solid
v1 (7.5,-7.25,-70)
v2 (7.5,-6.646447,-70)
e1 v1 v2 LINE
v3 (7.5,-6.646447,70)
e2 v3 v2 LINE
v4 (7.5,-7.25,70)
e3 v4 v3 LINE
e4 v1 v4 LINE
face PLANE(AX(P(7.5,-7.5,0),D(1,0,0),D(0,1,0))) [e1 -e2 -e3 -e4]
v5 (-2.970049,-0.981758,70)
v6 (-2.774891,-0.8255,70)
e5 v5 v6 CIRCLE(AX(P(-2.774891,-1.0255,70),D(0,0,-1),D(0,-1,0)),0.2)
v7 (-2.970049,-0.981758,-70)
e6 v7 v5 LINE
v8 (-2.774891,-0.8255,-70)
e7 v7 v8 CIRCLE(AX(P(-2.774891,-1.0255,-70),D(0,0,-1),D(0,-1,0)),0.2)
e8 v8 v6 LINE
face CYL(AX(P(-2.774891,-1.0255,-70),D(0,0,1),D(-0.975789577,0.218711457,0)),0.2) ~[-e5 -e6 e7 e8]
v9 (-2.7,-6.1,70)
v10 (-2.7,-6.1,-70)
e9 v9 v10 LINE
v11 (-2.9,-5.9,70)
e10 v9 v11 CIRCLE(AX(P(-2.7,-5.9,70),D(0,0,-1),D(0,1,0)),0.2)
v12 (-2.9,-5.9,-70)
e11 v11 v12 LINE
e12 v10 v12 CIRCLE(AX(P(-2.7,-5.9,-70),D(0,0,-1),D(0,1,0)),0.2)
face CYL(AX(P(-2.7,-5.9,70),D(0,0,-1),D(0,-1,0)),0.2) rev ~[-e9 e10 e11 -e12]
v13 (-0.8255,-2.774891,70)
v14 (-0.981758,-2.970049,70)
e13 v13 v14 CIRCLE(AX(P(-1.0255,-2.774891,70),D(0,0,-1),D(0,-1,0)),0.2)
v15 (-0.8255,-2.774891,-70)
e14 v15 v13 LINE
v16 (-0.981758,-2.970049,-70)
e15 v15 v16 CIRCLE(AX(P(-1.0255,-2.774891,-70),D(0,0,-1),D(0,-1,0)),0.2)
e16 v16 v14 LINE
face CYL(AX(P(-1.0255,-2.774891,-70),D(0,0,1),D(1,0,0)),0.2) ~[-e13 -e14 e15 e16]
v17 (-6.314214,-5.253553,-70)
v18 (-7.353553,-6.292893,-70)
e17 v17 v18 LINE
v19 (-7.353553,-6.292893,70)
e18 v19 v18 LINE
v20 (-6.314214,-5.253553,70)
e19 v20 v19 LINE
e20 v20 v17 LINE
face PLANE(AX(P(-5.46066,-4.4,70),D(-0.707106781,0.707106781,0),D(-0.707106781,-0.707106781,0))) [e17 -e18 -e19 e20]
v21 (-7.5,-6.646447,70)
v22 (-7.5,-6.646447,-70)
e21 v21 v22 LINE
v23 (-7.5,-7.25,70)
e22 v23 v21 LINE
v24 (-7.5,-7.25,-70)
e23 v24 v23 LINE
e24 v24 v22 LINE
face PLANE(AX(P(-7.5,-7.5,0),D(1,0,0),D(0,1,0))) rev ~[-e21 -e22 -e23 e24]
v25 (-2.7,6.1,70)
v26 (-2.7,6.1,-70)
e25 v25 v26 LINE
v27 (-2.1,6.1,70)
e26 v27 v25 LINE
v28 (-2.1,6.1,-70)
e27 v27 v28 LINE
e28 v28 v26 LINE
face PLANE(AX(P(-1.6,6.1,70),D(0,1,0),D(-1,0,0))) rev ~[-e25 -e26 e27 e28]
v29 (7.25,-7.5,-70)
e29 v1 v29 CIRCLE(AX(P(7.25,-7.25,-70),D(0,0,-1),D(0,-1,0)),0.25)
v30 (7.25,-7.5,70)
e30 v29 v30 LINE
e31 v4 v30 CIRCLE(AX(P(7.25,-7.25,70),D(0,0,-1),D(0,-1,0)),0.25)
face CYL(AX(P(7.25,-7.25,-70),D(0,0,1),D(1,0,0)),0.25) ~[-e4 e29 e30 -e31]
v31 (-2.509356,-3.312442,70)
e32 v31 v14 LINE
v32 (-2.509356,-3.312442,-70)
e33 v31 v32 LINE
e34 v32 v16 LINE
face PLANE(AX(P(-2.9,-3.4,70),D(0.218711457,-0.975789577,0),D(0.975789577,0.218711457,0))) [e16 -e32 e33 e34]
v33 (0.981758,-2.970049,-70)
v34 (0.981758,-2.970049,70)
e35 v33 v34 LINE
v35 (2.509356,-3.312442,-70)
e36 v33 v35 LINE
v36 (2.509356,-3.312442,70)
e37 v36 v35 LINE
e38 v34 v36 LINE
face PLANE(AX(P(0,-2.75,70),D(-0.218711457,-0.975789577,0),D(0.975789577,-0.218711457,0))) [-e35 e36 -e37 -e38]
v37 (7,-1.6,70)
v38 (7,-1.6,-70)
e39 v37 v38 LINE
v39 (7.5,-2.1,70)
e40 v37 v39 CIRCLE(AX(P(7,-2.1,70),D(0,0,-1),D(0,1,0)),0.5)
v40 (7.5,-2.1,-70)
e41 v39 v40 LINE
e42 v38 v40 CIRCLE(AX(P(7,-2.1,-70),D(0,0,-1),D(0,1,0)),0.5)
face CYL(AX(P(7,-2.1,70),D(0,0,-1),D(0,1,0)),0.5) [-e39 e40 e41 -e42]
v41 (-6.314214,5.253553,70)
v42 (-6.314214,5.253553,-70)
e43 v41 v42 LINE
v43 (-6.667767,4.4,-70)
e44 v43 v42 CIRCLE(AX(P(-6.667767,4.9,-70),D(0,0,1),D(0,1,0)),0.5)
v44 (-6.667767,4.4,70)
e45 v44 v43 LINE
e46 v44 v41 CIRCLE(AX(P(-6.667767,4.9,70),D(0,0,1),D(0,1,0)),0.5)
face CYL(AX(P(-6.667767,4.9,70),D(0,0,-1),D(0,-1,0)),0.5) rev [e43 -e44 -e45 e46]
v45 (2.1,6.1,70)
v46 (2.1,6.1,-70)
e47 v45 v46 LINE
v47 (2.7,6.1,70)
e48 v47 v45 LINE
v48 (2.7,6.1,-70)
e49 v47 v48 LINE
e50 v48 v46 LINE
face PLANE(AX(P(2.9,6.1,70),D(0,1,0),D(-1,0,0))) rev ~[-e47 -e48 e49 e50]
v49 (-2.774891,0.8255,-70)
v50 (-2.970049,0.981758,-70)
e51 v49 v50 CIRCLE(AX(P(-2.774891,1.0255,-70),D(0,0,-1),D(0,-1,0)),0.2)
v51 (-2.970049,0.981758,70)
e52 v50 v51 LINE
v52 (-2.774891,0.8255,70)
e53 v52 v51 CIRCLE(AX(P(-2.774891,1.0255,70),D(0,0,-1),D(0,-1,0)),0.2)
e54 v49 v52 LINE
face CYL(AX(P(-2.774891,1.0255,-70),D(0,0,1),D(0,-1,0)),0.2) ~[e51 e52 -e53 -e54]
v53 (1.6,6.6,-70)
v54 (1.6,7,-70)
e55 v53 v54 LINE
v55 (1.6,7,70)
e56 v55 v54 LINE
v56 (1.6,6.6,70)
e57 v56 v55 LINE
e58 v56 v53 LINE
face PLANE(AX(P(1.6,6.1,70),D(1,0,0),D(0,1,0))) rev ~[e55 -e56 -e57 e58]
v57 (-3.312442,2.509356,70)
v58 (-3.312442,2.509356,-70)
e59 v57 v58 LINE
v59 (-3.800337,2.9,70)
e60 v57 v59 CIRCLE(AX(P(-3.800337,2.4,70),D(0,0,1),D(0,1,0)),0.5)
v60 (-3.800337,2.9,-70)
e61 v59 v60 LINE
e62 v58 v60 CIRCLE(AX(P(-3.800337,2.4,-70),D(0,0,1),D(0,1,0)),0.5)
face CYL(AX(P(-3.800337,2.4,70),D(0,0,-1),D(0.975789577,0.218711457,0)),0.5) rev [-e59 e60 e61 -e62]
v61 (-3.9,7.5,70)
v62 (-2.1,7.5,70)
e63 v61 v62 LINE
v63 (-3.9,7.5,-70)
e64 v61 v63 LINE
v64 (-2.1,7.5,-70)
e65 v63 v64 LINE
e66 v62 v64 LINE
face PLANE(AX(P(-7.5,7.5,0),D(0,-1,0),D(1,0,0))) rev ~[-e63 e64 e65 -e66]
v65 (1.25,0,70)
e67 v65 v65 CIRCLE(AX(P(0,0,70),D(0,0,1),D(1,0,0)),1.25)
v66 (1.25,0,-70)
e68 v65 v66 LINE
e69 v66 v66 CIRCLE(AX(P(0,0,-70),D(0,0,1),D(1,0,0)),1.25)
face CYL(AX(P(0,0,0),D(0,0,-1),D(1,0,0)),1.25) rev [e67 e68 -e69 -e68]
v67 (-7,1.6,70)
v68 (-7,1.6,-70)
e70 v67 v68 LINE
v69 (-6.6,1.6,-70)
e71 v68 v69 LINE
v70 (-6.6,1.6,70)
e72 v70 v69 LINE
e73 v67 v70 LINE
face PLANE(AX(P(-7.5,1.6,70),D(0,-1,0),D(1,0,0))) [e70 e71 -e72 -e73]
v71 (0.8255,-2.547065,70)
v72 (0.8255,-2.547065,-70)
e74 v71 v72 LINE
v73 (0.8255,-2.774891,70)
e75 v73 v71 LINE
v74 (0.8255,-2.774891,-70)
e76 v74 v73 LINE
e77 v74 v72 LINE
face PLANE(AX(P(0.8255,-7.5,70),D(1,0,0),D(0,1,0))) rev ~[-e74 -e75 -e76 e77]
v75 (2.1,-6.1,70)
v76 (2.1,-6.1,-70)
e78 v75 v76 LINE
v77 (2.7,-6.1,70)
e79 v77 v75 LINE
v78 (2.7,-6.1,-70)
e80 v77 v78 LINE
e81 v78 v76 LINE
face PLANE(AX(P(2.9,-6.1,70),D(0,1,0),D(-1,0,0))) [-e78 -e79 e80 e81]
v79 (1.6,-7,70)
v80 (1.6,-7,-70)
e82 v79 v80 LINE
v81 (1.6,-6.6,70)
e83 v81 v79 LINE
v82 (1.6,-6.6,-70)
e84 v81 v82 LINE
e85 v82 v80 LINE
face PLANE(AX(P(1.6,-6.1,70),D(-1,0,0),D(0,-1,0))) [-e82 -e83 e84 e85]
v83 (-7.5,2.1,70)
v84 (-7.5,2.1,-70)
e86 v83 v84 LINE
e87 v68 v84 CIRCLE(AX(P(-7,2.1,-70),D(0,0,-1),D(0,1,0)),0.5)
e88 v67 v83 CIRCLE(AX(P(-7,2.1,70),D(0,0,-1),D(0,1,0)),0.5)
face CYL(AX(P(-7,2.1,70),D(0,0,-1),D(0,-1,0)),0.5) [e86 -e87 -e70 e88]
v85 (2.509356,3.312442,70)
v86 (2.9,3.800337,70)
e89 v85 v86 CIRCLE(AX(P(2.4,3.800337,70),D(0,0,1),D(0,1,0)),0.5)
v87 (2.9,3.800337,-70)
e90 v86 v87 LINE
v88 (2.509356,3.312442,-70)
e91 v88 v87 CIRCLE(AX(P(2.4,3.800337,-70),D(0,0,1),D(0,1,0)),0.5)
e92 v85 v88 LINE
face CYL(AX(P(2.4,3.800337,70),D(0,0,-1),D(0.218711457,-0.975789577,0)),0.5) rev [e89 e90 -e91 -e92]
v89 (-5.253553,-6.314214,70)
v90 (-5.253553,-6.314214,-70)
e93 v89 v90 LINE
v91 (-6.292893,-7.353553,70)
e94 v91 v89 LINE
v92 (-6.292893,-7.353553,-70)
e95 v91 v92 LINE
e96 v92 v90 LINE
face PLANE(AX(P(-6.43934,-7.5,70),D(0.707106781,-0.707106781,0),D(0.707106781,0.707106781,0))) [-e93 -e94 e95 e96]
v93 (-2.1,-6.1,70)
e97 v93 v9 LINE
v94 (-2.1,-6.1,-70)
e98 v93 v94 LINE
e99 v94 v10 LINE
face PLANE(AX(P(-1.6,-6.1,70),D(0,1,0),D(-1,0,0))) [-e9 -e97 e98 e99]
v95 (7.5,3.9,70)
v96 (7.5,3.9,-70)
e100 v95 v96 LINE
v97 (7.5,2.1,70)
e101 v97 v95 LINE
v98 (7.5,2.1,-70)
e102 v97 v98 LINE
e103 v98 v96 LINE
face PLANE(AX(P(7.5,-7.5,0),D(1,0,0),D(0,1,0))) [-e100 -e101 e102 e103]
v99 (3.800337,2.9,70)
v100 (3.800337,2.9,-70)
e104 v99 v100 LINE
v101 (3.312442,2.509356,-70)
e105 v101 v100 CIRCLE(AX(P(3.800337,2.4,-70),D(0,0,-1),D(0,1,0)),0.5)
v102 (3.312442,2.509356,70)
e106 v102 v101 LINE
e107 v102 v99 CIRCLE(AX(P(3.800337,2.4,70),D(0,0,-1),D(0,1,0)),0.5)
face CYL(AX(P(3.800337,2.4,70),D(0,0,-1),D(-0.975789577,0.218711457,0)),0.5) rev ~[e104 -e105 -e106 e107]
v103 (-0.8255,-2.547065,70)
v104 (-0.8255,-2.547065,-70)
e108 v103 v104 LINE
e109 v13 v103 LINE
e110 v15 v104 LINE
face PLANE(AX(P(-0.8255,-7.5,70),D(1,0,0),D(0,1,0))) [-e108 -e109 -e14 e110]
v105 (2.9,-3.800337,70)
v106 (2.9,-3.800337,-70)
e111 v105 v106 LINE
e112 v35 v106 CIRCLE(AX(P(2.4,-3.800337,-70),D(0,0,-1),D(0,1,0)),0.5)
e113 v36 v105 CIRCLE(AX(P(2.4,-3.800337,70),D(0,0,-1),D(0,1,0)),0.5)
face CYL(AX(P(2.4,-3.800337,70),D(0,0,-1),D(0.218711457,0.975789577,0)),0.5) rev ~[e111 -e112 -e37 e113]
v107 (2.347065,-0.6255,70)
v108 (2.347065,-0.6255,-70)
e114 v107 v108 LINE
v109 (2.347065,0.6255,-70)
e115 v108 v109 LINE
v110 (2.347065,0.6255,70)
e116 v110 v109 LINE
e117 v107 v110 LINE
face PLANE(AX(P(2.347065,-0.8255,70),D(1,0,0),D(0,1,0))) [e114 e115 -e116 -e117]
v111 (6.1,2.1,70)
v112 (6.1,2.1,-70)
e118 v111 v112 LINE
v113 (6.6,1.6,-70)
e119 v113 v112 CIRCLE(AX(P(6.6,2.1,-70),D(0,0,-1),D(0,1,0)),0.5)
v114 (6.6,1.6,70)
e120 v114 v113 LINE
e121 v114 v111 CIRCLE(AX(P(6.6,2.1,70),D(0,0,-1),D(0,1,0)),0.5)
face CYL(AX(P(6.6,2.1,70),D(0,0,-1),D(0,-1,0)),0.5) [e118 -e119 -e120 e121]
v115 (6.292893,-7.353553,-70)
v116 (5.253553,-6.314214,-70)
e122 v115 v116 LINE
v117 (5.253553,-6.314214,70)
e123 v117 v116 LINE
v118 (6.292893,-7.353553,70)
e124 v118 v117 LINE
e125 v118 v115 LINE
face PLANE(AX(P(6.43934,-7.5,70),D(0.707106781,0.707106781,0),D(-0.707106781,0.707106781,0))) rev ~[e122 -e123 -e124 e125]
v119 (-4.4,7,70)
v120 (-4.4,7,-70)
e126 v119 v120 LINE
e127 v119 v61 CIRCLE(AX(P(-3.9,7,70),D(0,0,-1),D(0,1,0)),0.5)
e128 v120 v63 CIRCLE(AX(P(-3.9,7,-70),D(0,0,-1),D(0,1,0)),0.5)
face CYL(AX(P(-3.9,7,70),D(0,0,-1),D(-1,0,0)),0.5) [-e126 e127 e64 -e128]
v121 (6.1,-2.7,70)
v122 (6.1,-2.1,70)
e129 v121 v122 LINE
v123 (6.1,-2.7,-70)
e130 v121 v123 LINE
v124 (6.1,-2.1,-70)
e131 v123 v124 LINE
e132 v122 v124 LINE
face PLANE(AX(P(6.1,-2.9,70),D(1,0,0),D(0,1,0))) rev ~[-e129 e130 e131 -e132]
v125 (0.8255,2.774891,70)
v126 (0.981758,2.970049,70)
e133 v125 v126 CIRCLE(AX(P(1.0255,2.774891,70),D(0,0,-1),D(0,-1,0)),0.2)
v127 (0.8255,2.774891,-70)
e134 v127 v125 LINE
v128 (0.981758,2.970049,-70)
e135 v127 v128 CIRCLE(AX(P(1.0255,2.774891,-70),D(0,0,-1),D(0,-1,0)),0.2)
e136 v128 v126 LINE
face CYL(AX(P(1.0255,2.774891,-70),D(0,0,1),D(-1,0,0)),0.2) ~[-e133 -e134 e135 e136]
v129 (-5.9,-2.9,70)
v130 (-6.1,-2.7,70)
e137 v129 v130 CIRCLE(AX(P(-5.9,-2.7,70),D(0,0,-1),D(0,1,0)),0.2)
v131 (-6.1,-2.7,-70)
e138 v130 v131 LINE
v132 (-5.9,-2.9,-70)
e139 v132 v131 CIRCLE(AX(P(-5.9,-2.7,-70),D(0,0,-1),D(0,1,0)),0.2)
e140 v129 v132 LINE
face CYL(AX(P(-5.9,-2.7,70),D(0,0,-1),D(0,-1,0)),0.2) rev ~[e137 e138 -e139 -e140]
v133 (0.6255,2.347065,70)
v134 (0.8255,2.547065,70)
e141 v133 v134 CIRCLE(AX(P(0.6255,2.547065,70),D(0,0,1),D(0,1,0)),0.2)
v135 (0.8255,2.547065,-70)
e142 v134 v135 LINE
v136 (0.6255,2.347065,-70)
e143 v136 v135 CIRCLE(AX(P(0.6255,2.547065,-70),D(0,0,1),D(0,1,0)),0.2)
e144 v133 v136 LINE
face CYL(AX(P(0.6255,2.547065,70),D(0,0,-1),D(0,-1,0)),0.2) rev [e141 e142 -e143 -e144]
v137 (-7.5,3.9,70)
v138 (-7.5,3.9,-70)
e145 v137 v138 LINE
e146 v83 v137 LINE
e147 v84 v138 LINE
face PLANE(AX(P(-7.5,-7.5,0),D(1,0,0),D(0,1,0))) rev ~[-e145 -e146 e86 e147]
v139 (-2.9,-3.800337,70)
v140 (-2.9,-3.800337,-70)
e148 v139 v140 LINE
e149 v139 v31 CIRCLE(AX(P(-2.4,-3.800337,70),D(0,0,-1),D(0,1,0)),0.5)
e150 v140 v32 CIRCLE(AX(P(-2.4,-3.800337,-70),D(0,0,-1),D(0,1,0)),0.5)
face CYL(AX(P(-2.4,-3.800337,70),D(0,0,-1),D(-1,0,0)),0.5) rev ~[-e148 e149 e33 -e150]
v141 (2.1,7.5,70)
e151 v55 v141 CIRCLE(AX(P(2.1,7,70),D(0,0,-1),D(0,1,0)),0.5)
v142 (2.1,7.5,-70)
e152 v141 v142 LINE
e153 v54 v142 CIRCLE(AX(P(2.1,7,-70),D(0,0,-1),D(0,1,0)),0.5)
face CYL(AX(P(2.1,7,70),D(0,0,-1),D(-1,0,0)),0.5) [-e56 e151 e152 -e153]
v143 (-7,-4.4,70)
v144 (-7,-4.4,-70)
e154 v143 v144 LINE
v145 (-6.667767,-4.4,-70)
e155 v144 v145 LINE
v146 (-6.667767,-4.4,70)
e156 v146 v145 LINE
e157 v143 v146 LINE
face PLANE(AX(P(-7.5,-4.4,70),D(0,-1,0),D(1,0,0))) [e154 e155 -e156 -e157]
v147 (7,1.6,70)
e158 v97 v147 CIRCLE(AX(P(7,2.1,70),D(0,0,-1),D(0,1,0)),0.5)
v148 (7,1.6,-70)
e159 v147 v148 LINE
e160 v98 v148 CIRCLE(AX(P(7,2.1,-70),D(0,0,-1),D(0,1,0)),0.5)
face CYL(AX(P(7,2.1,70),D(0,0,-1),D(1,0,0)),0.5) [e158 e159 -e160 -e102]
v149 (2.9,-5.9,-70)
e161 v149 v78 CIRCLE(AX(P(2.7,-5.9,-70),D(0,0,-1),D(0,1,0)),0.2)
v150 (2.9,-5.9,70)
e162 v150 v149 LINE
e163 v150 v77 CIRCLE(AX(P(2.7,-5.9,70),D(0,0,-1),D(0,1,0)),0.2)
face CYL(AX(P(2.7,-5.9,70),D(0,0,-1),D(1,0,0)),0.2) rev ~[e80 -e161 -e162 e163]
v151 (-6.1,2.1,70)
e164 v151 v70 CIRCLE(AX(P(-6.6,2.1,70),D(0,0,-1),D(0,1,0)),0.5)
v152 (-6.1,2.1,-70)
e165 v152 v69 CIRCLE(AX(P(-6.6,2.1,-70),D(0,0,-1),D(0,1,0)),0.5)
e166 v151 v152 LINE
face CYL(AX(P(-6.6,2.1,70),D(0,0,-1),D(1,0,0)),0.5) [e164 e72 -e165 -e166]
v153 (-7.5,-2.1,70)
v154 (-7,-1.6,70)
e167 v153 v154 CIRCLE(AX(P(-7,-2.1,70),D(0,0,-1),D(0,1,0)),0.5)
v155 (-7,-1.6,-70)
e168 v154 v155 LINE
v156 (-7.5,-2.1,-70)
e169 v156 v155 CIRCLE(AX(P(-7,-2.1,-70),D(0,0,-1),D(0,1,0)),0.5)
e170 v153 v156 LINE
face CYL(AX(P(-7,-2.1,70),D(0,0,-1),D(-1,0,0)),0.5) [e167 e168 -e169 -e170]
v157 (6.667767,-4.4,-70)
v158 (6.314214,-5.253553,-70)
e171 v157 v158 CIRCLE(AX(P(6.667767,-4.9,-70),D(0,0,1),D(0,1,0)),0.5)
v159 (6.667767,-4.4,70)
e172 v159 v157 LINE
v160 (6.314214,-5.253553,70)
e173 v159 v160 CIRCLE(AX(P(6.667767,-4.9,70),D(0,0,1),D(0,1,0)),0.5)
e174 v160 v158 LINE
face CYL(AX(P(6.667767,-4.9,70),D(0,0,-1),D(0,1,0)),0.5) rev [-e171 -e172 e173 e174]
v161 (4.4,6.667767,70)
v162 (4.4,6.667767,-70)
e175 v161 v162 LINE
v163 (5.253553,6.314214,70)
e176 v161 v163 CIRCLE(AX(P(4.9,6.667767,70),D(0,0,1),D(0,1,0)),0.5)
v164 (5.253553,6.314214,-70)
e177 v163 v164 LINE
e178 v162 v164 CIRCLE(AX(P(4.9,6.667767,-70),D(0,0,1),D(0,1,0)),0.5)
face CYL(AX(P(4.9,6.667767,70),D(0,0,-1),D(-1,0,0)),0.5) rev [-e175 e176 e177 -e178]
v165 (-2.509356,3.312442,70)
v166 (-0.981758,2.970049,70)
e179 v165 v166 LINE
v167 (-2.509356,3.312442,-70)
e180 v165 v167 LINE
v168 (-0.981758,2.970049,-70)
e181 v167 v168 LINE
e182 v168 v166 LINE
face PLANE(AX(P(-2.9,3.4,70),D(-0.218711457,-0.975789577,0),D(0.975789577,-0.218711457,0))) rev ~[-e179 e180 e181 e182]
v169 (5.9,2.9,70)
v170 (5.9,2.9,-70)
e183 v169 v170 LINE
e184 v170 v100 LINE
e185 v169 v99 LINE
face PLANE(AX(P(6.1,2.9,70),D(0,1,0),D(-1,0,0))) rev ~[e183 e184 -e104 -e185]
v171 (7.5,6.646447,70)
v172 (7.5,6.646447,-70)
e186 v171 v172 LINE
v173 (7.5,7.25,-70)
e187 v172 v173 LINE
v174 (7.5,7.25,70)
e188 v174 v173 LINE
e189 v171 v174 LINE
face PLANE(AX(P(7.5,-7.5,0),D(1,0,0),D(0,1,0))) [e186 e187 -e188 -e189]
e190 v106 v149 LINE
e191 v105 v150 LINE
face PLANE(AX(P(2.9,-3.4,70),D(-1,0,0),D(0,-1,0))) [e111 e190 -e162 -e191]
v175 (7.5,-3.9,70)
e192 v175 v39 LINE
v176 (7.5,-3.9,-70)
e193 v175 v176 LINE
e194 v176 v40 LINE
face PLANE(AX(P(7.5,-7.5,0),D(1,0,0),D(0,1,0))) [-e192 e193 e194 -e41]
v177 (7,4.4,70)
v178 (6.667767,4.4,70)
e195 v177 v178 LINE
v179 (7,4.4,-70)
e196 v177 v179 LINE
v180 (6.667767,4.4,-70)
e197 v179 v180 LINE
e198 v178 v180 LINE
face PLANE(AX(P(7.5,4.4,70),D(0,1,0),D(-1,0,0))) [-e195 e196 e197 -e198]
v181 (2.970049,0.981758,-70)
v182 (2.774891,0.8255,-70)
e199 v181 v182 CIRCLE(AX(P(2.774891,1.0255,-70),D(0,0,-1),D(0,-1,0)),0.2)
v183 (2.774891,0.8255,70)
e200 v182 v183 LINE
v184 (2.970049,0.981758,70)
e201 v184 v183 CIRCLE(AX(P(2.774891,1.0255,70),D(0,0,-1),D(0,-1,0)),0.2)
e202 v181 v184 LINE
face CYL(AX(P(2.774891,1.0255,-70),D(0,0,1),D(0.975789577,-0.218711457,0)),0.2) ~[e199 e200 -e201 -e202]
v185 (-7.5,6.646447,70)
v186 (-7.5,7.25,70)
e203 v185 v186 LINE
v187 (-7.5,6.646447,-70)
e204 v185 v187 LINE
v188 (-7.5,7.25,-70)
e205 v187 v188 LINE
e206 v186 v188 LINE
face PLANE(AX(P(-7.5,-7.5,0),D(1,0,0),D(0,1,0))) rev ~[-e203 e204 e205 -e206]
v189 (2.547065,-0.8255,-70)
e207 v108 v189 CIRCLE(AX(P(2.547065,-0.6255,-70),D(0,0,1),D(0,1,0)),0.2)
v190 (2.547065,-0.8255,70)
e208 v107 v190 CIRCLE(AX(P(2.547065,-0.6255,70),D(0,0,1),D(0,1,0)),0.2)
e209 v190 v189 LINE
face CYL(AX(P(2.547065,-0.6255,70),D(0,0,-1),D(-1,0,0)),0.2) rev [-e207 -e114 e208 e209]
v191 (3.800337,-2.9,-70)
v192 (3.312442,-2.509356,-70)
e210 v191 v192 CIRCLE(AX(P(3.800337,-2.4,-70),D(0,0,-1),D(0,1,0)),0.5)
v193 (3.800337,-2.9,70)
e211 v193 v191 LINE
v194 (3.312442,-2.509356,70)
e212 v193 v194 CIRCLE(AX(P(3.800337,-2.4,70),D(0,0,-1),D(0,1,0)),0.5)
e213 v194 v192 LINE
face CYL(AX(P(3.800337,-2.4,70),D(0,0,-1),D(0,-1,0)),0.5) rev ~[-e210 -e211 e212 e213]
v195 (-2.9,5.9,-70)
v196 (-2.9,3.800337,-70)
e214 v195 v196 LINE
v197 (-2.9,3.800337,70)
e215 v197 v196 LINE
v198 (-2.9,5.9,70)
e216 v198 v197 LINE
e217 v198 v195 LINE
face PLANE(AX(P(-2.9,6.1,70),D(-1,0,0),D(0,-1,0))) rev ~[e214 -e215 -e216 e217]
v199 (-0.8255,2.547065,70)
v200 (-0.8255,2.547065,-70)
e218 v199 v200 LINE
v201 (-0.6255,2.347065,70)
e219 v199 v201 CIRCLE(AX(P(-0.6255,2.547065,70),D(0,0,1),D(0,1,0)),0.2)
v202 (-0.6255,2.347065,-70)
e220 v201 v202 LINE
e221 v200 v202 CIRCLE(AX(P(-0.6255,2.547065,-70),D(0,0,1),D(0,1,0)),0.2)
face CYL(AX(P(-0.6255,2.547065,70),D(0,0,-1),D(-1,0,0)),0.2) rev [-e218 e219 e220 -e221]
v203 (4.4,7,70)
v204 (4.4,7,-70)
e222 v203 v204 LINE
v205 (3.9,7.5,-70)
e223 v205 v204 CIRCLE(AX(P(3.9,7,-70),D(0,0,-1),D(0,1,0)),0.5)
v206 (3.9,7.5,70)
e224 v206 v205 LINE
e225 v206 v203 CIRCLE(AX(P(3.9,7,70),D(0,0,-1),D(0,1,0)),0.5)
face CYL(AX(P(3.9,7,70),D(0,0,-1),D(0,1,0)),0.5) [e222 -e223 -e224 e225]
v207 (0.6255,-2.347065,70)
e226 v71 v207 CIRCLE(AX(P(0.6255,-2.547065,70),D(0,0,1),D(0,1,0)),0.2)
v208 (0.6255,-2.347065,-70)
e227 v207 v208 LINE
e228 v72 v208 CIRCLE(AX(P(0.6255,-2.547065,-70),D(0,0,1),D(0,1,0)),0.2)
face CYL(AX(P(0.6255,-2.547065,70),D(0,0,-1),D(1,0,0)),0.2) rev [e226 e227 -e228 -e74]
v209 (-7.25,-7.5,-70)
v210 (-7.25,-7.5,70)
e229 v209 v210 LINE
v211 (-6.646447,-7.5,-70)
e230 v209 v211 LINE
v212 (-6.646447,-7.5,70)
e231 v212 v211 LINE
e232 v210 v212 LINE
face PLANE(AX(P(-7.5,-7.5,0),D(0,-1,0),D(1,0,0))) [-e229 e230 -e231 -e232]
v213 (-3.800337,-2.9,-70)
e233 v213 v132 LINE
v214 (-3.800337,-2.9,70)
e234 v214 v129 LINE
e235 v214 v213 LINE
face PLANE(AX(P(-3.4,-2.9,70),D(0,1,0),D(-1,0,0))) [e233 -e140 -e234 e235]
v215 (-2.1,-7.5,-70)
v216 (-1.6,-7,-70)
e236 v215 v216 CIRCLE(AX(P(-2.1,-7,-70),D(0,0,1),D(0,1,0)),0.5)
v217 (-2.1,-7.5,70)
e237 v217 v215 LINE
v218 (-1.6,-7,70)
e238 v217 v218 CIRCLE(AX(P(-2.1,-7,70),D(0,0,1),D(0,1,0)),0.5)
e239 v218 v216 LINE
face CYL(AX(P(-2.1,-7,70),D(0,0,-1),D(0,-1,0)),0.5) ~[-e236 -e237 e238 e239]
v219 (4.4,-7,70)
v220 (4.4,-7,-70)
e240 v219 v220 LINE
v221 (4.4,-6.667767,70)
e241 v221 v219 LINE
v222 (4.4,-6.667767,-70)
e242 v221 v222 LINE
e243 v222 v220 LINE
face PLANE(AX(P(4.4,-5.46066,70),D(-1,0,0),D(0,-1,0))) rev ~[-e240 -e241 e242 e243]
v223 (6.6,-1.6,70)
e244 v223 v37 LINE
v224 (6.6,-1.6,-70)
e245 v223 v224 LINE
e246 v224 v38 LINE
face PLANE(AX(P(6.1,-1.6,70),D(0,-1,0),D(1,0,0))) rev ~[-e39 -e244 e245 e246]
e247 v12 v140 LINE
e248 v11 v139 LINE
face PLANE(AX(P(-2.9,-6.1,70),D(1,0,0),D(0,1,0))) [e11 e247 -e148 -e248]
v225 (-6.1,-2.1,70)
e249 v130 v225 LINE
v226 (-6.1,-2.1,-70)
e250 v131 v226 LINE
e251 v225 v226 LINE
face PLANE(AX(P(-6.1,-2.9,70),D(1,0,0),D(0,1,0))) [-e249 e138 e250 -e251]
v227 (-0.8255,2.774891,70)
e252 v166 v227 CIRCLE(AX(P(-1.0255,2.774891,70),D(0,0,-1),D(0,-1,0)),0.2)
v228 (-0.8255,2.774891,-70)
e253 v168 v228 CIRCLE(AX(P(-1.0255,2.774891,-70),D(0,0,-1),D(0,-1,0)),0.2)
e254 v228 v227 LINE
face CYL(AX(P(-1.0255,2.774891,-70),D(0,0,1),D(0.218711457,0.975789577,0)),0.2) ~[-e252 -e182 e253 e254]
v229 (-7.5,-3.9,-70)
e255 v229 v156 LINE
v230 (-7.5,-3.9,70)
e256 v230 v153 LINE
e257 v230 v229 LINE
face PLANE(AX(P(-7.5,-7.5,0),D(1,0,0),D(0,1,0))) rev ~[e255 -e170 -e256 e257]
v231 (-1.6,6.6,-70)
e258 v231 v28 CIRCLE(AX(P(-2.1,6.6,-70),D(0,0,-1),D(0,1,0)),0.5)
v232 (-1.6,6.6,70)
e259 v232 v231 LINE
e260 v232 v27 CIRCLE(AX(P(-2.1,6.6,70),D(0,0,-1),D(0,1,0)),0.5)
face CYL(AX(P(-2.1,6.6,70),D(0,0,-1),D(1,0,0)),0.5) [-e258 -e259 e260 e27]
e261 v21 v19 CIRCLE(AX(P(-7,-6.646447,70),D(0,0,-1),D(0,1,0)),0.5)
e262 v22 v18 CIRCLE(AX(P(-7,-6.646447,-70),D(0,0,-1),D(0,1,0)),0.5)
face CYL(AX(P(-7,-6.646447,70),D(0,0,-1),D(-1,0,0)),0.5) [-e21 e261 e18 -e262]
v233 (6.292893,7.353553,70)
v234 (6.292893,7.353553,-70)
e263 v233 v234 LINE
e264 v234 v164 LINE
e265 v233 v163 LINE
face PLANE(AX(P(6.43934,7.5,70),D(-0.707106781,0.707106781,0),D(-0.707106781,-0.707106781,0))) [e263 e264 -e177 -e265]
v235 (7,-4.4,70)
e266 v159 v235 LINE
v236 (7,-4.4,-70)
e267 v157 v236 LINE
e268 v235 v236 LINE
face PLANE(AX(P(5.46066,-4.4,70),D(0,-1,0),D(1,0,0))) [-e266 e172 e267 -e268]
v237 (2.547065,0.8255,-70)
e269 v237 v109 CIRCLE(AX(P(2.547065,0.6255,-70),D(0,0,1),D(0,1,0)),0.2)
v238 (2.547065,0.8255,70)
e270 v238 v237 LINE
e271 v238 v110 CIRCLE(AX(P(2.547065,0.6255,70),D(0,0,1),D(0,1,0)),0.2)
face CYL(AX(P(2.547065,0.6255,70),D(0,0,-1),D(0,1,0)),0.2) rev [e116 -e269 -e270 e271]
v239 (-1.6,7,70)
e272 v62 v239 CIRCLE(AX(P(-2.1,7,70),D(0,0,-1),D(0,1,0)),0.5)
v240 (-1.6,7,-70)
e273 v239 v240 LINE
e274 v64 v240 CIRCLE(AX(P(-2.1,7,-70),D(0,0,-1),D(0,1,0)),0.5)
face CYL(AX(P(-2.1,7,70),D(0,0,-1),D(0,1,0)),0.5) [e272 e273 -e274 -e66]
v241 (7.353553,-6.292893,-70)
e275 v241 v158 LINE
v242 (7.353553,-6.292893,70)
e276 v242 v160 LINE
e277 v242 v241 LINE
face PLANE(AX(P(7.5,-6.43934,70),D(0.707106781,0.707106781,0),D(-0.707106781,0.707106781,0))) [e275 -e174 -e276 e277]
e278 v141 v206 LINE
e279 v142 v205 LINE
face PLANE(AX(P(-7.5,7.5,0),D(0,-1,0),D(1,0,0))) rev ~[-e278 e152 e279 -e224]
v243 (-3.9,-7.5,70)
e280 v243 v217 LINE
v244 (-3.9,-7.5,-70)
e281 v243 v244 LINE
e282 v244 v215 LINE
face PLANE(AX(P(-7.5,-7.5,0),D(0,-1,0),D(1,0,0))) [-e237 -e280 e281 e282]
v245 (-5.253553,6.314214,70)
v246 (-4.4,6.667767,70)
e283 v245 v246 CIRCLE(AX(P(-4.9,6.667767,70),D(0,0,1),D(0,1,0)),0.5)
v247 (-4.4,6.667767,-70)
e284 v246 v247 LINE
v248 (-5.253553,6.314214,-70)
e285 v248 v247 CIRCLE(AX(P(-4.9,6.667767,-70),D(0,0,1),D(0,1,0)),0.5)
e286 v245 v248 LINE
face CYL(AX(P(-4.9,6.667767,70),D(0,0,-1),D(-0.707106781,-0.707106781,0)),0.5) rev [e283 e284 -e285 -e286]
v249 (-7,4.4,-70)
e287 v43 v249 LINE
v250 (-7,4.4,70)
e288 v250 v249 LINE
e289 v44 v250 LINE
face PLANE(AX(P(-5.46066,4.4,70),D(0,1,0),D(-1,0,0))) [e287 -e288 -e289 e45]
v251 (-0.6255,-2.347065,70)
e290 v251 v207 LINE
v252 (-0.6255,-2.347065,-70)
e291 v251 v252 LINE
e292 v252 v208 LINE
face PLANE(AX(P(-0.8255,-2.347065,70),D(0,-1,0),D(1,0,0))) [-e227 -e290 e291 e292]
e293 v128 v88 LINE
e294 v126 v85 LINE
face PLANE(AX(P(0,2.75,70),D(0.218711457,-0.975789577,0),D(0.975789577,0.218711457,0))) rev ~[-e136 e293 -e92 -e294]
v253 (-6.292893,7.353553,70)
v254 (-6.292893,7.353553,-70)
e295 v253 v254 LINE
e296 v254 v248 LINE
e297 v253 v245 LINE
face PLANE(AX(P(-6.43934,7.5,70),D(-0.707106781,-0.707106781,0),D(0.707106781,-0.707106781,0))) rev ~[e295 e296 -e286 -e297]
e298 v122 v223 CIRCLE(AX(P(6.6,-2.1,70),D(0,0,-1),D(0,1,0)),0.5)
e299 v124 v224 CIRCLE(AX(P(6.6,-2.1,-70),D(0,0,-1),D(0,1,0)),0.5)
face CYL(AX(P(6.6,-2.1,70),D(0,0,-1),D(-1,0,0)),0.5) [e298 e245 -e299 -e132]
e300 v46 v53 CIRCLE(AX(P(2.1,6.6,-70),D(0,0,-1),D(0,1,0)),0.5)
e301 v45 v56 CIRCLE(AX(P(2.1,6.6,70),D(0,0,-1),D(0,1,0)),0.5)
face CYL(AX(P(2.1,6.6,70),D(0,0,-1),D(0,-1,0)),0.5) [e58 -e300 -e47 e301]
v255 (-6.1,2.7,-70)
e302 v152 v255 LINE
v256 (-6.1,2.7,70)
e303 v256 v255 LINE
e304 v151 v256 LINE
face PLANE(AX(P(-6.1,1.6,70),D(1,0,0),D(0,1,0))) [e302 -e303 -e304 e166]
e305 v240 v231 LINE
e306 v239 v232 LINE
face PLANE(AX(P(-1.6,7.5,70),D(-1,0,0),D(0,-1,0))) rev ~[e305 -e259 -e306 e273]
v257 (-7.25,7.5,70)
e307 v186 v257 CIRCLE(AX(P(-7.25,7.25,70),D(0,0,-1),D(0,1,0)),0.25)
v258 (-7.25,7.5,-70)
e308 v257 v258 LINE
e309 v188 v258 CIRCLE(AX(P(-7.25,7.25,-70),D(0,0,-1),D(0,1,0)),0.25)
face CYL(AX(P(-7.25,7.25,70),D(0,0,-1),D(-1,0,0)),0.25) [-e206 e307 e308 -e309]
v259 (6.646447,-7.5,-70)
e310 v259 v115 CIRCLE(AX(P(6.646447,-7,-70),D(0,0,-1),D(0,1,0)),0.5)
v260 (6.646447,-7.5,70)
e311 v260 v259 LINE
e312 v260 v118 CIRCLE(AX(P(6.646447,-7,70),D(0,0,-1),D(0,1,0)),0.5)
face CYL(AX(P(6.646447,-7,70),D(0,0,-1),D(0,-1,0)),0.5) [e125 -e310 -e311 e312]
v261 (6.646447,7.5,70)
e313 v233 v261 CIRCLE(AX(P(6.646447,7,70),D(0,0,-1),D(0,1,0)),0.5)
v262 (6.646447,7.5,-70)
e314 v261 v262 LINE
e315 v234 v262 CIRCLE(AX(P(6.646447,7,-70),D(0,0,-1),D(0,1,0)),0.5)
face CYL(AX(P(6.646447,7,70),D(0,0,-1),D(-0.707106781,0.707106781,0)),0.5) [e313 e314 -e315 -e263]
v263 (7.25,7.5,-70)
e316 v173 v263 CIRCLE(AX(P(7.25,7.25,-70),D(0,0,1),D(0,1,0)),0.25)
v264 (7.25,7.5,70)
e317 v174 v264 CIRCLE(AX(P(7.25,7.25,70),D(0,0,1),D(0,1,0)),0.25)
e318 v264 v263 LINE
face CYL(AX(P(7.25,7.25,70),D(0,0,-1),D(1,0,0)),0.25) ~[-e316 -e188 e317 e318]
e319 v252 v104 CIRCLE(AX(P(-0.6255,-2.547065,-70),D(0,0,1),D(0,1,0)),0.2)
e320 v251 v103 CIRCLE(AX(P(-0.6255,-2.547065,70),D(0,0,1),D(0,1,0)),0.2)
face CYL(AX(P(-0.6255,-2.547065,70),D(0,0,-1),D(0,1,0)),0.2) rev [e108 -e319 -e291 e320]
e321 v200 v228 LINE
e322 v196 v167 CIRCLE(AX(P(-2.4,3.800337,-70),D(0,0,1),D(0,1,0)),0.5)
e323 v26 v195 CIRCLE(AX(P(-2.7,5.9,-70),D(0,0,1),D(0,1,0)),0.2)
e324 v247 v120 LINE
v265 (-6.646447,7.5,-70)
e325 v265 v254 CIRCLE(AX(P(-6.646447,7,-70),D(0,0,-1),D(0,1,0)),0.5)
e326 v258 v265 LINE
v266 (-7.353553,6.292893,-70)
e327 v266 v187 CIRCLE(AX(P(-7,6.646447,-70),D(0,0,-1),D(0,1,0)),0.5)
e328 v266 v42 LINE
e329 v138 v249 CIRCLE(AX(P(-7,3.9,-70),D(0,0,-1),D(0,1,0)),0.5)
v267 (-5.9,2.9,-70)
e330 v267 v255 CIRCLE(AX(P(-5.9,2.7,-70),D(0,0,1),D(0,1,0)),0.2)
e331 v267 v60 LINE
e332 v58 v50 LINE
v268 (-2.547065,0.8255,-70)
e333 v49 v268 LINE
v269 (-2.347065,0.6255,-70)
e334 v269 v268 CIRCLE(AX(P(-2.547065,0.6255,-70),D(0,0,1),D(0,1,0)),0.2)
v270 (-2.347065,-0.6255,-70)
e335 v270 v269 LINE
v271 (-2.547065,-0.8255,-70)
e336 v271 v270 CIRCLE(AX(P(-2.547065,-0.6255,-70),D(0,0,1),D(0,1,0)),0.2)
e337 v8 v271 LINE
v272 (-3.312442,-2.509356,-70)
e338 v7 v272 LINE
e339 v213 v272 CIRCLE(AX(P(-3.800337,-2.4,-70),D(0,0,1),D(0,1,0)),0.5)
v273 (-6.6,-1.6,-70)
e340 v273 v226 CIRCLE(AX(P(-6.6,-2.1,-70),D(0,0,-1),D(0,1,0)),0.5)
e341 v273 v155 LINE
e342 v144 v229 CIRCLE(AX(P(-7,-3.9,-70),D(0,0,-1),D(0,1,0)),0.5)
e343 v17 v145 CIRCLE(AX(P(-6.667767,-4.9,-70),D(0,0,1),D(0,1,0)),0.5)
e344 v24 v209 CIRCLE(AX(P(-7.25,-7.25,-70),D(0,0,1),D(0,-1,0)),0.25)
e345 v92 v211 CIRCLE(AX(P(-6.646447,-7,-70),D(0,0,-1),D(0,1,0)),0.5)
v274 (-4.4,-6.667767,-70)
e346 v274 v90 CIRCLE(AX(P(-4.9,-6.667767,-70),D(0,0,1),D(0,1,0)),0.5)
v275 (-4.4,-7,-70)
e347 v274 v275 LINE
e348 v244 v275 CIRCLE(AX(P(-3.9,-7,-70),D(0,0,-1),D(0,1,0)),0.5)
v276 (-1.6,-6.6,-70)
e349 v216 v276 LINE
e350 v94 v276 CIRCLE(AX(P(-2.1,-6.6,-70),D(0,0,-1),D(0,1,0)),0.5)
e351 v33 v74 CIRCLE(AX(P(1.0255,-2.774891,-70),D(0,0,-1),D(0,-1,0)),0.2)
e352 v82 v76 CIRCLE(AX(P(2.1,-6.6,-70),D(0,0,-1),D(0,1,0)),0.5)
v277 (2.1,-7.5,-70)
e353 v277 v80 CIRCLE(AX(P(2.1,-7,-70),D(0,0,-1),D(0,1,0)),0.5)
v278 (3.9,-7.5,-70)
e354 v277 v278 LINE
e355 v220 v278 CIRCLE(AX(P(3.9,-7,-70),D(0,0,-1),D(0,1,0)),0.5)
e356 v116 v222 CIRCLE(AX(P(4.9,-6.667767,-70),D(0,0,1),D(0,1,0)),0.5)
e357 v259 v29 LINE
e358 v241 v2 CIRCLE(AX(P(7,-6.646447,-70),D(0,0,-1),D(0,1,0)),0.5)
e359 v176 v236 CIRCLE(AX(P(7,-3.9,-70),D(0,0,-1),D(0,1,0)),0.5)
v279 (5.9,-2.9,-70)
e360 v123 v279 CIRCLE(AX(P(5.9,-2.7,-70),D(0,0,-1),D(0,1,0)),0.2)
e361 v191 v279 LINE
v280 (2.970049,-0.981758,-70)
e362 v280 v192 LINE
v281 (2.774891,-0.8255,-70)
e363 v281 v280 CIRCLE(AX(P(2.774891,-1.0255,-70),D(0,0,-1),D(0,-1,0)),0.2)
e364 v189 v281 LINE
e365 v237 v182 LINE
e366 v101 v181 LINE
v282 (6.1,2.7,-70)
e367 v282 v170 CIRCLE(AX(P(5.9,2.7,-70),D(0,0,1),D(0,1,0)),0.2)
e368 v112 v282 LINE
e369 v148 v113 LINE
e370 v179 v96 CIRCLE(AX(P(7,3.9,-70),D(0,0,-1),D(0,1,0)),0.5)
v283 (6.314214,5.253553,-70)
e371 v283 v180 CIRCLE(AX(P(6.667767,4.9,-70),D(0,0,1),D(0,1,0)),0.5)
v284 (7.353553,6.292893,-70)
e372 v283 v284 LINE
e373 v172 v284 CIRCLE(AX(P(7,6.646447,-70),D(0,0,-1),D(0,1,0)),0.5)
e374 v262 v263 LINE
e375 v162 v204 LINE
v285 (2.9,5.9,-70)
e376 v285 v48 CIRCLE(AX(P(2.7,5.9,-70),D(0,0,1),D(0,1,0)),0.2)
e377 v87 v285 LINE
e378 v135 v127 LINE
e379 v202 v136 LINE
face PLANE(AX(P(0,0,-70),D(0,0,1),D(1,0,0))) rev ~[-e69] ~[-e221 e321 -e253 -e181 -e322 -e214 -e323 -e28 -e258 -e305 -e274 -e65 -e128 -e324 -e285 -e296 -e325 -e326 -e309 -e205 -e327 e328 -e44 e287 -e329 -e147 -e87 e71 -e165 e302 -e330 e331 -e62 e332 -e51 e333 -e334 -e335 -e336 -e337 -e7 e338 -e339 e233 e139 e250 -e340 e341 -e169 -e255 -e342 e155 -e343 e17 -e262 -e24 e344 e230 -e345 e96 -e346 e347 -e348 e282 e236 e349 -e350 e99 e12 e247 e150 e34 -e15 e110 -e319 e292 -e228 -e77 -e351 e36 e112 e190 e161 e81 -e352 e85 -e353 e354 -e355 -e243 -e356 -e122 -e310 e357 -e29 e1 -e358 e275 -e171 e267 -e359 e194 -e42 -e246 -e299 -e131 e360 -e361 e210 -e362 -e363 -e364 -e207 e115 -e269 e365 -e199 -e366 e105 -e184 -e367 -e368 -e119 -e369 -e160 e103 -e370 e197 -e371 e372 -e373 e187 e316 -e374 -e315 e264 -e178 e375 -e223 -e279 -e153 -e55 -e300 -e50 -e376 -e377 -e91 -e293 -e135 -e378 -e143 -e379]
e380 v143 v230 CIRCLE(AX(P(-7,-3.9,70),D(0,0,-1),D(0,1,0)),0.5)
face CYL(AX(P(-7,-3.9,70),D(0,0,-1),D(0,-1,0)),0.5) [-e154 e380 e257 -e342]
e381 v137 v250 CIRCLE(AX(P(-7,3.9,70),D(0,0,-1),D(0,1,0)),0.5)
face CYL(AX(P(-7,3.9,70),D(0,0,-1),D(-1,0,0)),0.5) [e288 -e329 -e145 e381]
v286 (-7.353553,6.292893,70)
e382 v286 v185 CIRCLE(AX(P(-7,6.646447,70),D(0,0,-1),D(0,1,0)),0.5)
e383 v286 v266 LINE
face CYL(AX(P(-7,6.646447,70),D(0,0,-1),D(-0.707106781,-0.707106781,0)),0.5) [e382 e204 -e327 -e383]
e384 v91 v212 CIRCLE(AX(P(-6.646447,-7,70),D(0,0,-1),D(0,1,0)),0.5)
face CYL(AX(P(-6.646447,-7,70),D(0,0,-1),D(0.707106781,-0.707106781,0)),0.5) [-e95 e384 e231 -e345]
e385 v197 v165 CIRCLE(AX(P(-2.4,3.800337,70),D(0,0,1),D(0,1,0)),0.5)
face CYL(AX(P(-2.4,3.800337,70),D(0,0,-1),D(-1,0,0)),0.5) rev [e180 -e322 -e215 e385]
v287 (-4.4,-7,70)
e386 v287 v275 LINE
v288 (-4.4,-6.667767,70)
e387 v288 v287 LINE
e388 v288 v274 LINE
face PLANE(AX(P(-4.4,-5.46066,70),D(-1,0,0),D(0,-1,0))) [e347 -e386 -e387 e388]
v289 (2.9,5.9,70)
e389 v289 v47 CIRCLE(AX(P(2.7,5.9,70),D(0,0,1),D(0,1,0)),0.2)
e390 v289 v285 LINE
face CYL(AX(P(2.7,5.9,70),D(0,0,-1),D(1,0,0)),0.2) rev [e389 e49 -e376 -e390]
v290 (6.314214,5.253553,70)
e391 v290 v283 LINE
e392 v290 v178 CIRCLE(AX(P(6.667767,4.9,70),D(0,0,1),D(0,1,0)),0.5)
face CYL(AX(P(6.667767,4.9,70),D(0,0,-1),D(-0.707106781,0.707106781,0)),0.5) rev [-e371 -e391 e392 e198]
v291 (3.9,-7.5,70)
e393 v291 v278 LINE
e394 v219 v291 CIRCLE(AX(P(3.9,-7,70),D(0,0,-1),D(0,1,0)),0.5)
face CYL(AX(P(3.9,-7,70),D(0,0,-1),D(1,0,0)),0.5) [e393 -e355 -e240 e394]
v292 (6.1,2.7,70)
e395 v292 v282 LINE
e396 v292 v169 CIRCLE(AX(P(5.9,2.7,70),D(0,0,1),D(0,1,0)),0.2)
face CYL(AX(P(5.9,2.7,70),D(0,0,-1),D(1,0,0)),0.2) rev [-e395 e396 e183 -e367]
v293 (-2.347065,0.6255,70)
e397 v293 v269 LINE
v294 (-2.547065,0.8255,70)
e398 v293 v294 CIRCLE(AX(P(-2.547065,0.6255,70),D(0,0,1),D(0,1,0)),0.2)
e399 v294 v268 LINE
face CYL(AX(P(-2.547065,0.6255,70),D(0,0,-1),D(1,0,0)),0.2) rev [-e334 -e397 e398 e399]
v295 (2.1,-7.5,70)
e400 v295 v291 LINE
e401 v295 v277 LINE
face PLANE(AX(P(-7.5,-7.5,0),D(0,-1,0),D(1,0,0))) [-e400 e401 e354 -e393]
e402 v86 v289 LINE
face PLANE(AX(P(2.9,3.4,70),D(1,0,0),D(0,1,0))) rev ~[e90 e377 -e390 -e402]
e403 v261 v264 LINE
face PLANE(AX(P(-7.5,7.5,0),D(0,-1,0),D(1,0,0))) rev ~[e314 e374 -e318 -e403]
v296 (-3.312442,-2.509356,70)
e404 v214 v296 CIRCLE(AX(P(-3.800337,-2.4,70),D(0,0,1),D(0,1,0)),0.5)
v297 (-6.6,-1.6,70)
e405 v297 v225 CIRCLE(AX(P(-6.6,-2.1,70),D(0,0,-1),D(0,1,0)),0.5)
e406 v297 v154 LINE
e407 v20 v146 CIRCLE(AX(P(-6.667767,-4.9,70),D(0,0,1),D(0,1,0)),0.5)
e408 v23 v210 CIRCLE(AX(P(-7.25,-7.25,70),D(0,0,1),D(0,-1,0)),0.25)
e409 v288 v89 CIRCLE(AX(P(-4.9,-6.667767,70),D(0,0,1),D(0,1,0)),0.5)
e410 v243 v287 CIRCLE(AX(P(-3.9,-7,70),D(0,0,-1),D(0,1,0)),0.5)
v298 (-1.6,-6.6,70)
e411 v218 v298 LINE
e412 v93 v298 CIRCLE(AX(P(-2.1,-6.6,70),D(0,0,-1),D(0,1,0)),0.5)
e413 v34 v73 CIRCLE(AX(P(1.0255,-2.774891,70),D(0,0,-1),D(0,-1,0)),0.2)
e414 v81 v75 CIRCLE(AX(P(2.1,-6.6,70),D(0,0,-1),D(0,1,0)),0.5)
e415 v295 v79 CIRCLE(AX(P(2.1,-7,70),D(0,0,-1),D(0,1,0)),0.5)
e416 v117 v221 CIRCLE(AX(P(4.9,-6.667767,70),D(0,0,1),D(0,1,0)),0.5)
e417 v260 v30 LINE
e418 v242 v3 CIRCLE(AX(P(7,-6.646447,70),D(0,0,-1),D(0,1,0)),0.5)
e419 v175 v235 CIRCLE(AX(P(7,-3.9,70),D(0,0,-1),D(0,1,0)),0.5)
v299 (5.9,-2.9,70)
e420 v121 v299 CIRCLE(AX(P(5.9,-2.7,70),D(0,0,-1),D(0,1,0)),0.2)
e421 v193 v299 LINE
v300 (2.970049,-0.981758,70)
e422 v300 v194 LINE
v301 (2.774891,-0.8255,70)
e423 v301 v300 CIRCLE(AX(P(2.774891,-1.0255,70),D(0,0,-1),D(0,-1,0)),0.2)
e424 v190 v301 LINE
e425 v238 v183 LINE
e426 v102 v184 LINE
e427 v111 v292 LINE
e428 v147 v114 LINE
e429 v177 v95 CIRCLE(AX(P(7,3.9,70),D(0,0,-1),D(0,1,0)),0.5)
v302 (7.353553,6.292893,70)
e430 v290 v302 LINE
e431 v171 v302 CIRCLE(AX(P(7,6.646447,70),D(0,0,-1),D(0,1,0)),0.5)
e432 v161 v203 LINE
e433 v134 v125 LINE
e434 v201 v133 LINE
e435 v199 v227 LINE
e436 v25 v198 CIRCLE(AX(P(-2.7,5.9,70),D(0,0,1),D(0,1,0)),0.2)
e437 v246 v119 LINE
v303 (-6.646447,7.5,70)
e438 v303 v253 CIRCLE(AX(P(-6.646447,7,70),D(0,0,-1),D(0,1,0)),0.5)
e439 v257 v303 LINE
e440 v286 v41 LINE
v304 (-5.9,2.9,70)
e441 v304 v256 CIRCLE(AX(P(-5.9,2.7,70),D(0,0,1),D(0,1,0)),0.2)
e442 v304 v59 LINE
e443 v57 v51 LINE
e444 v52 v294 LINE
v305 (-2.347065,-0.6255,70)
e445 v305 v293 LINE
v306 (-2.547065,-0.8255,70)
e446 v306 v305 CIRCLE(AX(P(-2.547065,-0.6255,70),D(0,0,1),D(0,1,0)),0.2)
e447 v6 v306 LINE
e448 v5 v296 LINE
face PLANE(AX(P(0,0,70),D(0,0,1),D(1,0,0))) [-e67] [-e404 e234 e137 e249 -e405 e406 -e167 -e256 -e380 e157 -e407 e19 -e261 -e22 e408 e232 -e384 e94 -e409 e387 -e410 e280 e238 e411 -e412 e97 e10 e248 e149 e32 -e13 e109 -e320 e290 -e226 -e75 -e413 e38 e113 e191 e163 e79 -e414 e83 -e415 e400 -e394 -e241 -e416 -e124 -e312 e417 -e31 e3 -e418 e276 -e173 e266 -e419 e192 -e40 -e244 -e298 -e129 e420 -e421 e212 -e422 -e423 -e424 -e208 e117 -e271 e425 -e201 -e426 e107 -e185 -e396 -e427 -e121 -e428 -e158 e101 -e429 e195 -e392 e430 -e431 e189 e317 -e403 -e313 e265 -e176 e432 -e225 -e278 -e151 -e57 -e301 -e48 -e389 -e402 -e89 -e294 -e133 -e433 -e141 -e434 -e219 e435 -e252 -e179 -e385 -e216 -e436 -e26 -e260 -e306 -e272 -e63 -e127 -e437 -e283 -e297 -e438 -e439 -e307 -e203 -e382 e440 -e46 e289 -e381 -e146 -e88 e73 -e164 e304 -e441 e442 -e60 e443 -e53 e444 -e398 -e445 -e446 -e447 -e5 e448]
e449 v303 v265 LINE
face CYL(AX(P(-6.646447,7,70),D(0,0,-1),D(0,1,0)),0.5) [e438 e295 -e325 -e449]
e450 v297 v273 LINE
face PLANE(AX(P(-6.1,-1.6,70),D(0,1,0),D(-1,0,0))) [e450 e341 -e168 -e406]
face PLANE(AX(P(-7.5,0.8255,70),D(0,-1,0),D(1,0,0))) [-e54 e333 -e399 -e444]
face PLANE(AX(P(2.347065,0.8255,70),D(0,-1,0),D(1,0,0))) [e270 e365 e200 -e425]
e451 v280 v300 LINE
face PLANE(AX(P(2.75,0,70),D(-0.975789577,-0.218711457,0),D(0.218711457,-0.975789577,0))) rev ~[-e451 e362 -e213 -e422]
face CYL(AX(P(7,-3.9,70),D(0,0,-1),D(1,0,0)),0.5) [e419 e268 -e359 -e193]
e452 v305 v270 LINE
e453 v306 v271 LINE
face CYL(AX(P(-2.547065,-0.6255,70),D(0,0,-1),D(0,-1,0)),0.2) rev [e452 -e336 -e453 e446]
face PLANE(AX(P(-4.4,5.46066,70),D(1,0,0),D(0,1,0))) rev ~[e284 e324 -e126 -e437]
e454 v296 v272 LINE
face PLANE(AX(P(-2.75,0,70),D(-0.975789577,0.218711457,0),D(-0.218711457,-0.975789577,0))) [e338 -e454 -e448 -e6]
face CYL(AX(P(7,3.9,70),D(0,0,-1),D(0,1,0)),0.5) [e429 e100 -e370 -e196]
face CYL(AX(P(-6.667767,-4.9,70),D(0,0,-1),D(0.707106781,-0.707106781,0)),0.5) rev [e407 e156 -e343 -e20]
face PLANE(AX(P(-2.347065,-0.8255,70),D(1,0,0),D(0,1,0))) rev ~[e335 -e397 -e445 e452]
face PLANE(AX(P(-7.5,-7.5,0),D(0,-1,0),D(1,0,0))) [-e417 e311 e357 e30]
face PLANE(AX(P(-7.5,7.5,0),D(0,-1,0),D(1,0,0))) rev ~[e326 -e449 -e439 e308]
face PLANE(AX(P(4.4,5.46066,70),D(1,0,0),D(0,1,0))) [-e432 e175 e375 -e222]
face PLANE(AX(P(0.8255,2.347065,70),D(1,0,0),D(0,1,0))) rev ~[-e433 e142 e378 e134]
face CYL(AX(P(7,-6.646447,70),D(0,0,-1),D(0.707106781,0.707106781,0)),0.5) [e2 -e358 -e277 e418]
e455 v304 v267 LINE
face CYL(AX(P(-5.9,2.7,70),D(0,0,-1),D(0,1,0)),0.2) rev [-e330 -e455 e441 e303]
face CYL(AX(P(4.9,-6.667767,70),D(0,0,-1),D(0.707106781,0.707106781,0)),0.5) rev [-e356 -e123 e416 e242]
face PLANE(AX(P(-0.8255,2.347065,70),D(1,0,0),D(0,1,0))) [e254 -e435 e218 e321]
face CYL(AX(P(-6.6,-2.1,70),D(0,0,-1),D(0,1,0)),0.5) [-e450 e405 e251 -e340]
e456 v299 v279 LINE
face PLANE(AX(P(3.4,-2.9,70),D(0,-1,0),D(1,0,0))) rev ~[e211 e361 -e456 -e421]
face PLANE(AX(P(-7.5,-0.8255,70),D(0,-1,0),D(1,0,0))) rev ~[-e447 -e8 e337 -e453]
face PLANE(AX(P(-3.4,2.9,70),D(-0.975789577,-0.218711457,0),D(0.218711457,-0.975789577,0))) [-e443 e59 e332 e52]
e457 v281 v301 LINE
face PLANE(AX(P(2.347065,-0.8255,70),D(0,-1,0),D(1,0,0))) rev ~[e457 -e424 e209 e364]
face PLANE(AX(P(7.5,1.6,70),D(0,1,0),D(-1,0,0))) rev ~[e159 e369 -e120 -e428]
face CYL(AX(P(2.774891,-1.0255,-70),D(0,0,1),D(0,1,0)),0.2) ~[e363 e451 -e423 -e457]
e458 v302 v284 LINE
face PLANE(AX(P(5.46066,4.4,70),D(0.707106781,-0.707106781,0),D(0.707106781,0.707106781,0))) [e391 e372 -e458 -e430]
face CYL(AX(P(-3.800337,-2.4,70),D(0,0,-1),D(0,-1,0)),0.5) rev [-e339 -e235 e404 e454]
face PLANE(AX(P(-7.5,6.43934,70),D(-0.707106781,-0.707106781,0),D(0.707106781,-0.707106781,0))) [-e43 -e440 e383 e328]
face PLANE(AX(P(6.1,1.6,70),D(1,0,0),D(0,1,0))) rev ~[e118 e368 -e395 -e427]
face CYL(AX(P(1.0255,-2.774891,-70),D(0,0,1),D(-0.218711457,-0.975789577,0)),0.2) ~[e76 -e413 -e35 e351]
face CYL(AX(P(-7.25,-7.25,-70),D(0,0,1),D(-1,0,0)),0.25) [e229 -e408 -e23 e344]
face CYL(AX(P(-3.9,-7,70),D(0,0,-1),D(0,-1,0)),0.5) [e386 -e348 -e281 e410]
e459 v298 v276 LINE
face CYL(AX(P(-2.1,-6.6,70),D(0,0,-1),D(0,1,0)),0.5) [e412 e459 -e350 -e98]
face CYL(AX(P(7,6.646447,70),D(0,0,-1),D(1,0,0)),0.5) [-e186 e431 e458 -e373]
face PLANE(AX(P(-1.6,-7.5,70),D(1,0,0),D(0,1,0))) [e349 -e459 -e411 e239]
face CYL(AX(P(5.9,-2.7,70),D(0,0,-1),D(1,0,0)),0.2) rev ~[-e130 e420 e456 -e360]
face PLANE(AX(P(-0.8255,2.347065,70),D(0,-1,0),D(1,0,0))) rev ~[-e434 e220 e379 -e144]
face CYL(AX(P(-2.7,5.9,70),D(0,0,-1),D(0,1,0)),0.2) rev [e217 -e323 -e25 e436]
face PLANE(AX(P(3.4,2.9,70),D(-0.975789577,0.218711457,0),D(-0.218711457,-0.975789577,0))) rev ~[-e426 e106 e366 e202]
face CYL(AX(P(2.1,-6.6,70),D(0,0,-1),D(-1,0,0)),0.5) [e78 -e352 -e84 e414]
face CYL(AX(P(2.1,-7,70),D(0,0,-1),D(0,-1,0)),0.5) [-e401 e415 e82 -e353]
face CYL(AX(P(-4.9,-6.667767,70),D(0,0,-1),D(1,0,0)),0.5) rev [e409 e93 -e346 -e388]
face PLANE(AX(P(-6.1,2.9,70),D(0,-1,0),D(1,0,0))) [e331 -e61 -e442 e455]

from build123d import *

# Parameters (mm, degrees)
SKETCH1_W           = 15
SKETCH1_H           = 15
SKETCH1_R           = 1.25
BOSS_EXTRUDE1_DEPTH = 70
FILLET1_R           = 0.25
CUT_EXTRUDE1_DEPTH  = 141.401210821
CUT_EXTRUDE3_DEPTH  = 141.401210821
FILLET3_R           = 0.5
FILLET4_R           = 0.5
FILLET5_R           = 3
FILLET6_R           = 0.2
CUT_EXTRUDE4_DEPTH  = 141.401210821
FILLET8_R           = 0.5
SKETCH6_W           = 5.1529354
SKETCH6_H           = 1.651
SKETCH6_W_2         = 1.651
SKETCH6_H_2         = 5.1529354
CUT_EXTRUDE5_DEPTH  = 141.401210821
FILLET10_R          = 0.2


with BuildPart() as part:
    # Sketch1 → Boss-Extrude1 (new, symmetric)
    with BuildSketch(Plane.XY):
        Rectangle(SKETCH1_W, SKETCH1_H)
        Circle(SKETCH1_R, mode=Mode.SUBTRACT)
    extrude(amount=BOSS_EXTRUDE1_DEPTH, both=True)

    # Fillet1
    fillet1_edges = [part.edges().sort_by_distance(p)[0] for p in [
        (7.5, -7.5, 0),
        (-7.5, -7.5, 0),
        (-7.5, 7.5, 0),
        (7.5, 7.5, 0),
    ]]
    fillet(fillet1_edges, radius=FILLET1_R)

    # Sketch2 → Cut-Extrude1 (cut, through all)
    with BuildSketch(Plane.XY.offset(70)):
        Polygon((-7.5, 1.6), (-6.1, 1.6), (-6.1, 2.9), (-3.4, 2.9), (-3.4, -2.9), (-6.1, -2.9), (-6.1, -1.6), (-7.5, -1.6), align=None)
        Polygon((2.9, 6.1), (1.6, 6.1), (1.6, 7.5), (-1.6, 7.5), (-1.6, 6.1), (-2.9, 6.1), (-2.9, 3.4), (2.9, 3.4), align=None)
        Polygon((-1.6, -7.5), (-1.6, -6.1), (-2.9, -6.1), (-2.9, -3.4), (2.9, -3.4), (2.9, -6.1), (1.6, -6.1), (1.6, -7.5), align=None)
        Polygon((6.1, -2.9), (6.1, -1.6), (7.5, -1.6), (7.5, 1.6), (6.1, 1.6), (6.1, 2.9), (3.4, 2.9), (3.4, -2.9), align=None)
    extrude(amount=-CUT_EXTRUDE1_DEPTH, mode=Mode.SUBTRACT)

    # Sketch4 → Cut-Extrude3 (cut, through all)
    with BuildSketch(Plane.XY.offset(70)):
        Polygon((-3.4, 2.9), (-2.75, 0), (-3.4, -2.9), align=None)
        Polygon((-2.9, 3.4), (0, 2.75), (2.9, 3.4), align=None)
        Polygon((3.4, 2.9), (2.75, 0), (3.4, -2.9), align=None)
        Polygon((-2.9, -3.4), (0, -2.75), (2.9, -3.4), align=None)
    extrude(amount=-CUT_EXTRUDE3_DEPTH, mode=Mode.SUBTRACT)

    # Fillet3
    fillet3_edges = [part.edges().sort_by_distance(p)[0] for p in [
        (1.6, -7.5, 0),
        (-1.6, -7.5, 0),
        (-1.6, -6.1, 0),
        (1.6, -6.1, 0),
        (6.1, 1.6, 0),
        (7.5, 1.6, 0),
        (7.5, -1.6, 0),
        (6.1, -1.6, 0),
        (-7.5, -1.6, 0),
        (-7.5, 1.6, 0),
        (-6.1, 1.6, 0),
        (-6.1, -1.6, 0),
        (-1.6, 6.1, 0),
        (-1.6, 7.5, 0),
        (1.6, 7.5, 0),
        (1.6, 6.1, 0),
    ]]
    fillet(fillet3_edges, radius=FILLET3_R)

    # Fillet4
    fillet4_edges = [part.edges().sort_by_distance(p)[0] for p in [
        (-2.9, -3.4, 0),
        (2.9, -3.4, 0),
        (3.4, -2.9, 0),
        (3.4, 2.9, 0),
        (-3.4, 2.9, 0),
        (-3.4, -2.9, 0),
        (2.9, 3.4, 0),
        (-2.9, 3.4, 0),
    ]]
    fillet(fillet4_edges, radius=FILLET4_R)

    # Fillet5
    fillet5_edges = [part.edges().sort_by_distance(p)[0] for p in [
        (-2.75, 0, 0),
        (0, 2.75, 0),
        (2.75, 0, 0),
        (0, -2.75, 0),
    ]]
    fillet(fillet5_edges, radius=FILLET5_R)

    # Fillet6
    fillet6_edges = [part.edges().sort_by_distance(p)[0] for p in [
        (-2.9, -6.1, 0),
        (2.9, -6.1, 0),
        (6.1, -2.9, 0),
        (6.1, 2.9, 0),
        (-6.1, 2.9, 0),
        (-6.1, -2.9, 0),
        (2.9, 6.1, 0),
        (-2.9, 6.1, 0),
    ]]
    fillet(fillet6_edges, radius=FILLET6_R)

    # Sketch5 → Cut-Extrude4 (cut, through all)
    with BuildSketch(Plane.XY.offset(70)):
        Polygon((-7.5, 6.439339828), (-5.460660172, 4.4), (-7.5, 4.4), align=None)
        Polygon((-6.439339828, 7.5), (-4.4, 5.460660172), (-4.4, 7.5), align=None)
        Polygon((4.4, 7.5), (6.439339828, 7.5), (4.4, 5.460660172), align=None)
        Polygon((7.5, 6.439339828), (7.5, 4.4), (5.460660172, 4.4), align=None)
        Polygon((7.5, -6.439339828), (5.460660172, -4.4), (7.5, -4.4), align=None)
        Polygon((6.439339828, -7.5), (4.4, -5.460660172), (4.4, -7.5), align=None)
        Polygon((-4.4, -7.5), (-6.439339828, -7.5), (-4.4, -5.460660172), align=None)
        Polygon((-7.5, -6.439339828), (-7.5, -4.4), (-5.460660172, -4.4), align=None)
    extrude(amount=-CUT_EXTRUDE4_DEPTH, mode=Mode.SUBTRACT)

    # Fillet8
    fillet8_edges = [part.edges().sort_by_distance(p)[0] for p in [
        (-7.5, 4.4, 0),
        (-7.5, 6.439339828, 0),
        (-5.460660172, 4.4, 0),
        (7.5, -4.4, 0),
        (7.5, -6.439339828, 0),
        (5.460660172, -4.4, 0),
        (5.460660172, 4.4, 0),
        (7.5, 6.439339828, 0),
        (7.5, 4.4, 0),
        (-4.4, 7.5, 0),
        (-4.4, 5.460660172, 0),
        (-6.439339828, 7.5, 0),
        (-5.460660172, -4.4, 0),
        (-7.5, -6.439339828, 0),
        (-7.5, -4.4, 0),
        (4.4, 5.460660172, 0),
        (4.4, 7.5, 0),
        (6.439339828, 7.5, 0),
        (6.439339828, -7.5, 0),
        (4.4, -7.5, 0),
        (4.4, -5.460660172, 0),
        (-6.439339828, -7.5, 0),
        (-4.4, -5.460660172, 0),
        (-4.4, -7.5, 0),
    ]]
    fillet(fillet8_edges, radius=FILLET8_R)

    # Sketch6 → Cut-Extrude5 (cut, through all)
    with BuildSketch(Plane.XY.offset(70)):
        with Locations((4.9235323, 0)):
            Rectangle(SKETCH6_W, SKETCH6_H)
        with Locations((0, -4.9235323)):
            Rectangle(SKETCH6_W_2, SKETCH6_H_2)
        with Locations((-4.9235323, 0)):
            Rectangle(SKETCH6_W, SKETCH6_H)
        with Locations((0, 4.9235323)):
            Rectangle(SKETCH6_W_2, SKETCH6_H_2)
    extrude(amount=-CUT_EXTRUDE5_DEPTH, mode=Mode.SUBTRACT)

    # Fillet10
    fillet10_edges = [part.edges().sort_by_distance(p)[0] for p in [
        (0.8255, -2.935025862, 0),
        (-0.8255, -2.935025862, 0),
        (0.8255, -2.3470646, 0),
        (-0.8255, -2.3470646, 0),
        (2.935025862, 0.8255, 0),
        (2.935025862, -0.8255, 0),
        (2.3470646, 0.8255, 0),
        (2.3470646, -0.8255, 0),
        (-2.935025862, -0.8255, 0),
        (-2.935025862, 0.8255, 0),
        (-2.3470646, -0.8255, 0),
        (-2.3470646, 0.8255, 0),
        (-0.8255, 2.935025862, 0),
        (0.8255, 2.935025862, 0),
        (-0.8255, 2.3470646, 0),
        (0.8255, 2.3470646, 0),
    ]]
    fillet(fillet10_edges, radius=FILLET10_R)


solid = part.part
